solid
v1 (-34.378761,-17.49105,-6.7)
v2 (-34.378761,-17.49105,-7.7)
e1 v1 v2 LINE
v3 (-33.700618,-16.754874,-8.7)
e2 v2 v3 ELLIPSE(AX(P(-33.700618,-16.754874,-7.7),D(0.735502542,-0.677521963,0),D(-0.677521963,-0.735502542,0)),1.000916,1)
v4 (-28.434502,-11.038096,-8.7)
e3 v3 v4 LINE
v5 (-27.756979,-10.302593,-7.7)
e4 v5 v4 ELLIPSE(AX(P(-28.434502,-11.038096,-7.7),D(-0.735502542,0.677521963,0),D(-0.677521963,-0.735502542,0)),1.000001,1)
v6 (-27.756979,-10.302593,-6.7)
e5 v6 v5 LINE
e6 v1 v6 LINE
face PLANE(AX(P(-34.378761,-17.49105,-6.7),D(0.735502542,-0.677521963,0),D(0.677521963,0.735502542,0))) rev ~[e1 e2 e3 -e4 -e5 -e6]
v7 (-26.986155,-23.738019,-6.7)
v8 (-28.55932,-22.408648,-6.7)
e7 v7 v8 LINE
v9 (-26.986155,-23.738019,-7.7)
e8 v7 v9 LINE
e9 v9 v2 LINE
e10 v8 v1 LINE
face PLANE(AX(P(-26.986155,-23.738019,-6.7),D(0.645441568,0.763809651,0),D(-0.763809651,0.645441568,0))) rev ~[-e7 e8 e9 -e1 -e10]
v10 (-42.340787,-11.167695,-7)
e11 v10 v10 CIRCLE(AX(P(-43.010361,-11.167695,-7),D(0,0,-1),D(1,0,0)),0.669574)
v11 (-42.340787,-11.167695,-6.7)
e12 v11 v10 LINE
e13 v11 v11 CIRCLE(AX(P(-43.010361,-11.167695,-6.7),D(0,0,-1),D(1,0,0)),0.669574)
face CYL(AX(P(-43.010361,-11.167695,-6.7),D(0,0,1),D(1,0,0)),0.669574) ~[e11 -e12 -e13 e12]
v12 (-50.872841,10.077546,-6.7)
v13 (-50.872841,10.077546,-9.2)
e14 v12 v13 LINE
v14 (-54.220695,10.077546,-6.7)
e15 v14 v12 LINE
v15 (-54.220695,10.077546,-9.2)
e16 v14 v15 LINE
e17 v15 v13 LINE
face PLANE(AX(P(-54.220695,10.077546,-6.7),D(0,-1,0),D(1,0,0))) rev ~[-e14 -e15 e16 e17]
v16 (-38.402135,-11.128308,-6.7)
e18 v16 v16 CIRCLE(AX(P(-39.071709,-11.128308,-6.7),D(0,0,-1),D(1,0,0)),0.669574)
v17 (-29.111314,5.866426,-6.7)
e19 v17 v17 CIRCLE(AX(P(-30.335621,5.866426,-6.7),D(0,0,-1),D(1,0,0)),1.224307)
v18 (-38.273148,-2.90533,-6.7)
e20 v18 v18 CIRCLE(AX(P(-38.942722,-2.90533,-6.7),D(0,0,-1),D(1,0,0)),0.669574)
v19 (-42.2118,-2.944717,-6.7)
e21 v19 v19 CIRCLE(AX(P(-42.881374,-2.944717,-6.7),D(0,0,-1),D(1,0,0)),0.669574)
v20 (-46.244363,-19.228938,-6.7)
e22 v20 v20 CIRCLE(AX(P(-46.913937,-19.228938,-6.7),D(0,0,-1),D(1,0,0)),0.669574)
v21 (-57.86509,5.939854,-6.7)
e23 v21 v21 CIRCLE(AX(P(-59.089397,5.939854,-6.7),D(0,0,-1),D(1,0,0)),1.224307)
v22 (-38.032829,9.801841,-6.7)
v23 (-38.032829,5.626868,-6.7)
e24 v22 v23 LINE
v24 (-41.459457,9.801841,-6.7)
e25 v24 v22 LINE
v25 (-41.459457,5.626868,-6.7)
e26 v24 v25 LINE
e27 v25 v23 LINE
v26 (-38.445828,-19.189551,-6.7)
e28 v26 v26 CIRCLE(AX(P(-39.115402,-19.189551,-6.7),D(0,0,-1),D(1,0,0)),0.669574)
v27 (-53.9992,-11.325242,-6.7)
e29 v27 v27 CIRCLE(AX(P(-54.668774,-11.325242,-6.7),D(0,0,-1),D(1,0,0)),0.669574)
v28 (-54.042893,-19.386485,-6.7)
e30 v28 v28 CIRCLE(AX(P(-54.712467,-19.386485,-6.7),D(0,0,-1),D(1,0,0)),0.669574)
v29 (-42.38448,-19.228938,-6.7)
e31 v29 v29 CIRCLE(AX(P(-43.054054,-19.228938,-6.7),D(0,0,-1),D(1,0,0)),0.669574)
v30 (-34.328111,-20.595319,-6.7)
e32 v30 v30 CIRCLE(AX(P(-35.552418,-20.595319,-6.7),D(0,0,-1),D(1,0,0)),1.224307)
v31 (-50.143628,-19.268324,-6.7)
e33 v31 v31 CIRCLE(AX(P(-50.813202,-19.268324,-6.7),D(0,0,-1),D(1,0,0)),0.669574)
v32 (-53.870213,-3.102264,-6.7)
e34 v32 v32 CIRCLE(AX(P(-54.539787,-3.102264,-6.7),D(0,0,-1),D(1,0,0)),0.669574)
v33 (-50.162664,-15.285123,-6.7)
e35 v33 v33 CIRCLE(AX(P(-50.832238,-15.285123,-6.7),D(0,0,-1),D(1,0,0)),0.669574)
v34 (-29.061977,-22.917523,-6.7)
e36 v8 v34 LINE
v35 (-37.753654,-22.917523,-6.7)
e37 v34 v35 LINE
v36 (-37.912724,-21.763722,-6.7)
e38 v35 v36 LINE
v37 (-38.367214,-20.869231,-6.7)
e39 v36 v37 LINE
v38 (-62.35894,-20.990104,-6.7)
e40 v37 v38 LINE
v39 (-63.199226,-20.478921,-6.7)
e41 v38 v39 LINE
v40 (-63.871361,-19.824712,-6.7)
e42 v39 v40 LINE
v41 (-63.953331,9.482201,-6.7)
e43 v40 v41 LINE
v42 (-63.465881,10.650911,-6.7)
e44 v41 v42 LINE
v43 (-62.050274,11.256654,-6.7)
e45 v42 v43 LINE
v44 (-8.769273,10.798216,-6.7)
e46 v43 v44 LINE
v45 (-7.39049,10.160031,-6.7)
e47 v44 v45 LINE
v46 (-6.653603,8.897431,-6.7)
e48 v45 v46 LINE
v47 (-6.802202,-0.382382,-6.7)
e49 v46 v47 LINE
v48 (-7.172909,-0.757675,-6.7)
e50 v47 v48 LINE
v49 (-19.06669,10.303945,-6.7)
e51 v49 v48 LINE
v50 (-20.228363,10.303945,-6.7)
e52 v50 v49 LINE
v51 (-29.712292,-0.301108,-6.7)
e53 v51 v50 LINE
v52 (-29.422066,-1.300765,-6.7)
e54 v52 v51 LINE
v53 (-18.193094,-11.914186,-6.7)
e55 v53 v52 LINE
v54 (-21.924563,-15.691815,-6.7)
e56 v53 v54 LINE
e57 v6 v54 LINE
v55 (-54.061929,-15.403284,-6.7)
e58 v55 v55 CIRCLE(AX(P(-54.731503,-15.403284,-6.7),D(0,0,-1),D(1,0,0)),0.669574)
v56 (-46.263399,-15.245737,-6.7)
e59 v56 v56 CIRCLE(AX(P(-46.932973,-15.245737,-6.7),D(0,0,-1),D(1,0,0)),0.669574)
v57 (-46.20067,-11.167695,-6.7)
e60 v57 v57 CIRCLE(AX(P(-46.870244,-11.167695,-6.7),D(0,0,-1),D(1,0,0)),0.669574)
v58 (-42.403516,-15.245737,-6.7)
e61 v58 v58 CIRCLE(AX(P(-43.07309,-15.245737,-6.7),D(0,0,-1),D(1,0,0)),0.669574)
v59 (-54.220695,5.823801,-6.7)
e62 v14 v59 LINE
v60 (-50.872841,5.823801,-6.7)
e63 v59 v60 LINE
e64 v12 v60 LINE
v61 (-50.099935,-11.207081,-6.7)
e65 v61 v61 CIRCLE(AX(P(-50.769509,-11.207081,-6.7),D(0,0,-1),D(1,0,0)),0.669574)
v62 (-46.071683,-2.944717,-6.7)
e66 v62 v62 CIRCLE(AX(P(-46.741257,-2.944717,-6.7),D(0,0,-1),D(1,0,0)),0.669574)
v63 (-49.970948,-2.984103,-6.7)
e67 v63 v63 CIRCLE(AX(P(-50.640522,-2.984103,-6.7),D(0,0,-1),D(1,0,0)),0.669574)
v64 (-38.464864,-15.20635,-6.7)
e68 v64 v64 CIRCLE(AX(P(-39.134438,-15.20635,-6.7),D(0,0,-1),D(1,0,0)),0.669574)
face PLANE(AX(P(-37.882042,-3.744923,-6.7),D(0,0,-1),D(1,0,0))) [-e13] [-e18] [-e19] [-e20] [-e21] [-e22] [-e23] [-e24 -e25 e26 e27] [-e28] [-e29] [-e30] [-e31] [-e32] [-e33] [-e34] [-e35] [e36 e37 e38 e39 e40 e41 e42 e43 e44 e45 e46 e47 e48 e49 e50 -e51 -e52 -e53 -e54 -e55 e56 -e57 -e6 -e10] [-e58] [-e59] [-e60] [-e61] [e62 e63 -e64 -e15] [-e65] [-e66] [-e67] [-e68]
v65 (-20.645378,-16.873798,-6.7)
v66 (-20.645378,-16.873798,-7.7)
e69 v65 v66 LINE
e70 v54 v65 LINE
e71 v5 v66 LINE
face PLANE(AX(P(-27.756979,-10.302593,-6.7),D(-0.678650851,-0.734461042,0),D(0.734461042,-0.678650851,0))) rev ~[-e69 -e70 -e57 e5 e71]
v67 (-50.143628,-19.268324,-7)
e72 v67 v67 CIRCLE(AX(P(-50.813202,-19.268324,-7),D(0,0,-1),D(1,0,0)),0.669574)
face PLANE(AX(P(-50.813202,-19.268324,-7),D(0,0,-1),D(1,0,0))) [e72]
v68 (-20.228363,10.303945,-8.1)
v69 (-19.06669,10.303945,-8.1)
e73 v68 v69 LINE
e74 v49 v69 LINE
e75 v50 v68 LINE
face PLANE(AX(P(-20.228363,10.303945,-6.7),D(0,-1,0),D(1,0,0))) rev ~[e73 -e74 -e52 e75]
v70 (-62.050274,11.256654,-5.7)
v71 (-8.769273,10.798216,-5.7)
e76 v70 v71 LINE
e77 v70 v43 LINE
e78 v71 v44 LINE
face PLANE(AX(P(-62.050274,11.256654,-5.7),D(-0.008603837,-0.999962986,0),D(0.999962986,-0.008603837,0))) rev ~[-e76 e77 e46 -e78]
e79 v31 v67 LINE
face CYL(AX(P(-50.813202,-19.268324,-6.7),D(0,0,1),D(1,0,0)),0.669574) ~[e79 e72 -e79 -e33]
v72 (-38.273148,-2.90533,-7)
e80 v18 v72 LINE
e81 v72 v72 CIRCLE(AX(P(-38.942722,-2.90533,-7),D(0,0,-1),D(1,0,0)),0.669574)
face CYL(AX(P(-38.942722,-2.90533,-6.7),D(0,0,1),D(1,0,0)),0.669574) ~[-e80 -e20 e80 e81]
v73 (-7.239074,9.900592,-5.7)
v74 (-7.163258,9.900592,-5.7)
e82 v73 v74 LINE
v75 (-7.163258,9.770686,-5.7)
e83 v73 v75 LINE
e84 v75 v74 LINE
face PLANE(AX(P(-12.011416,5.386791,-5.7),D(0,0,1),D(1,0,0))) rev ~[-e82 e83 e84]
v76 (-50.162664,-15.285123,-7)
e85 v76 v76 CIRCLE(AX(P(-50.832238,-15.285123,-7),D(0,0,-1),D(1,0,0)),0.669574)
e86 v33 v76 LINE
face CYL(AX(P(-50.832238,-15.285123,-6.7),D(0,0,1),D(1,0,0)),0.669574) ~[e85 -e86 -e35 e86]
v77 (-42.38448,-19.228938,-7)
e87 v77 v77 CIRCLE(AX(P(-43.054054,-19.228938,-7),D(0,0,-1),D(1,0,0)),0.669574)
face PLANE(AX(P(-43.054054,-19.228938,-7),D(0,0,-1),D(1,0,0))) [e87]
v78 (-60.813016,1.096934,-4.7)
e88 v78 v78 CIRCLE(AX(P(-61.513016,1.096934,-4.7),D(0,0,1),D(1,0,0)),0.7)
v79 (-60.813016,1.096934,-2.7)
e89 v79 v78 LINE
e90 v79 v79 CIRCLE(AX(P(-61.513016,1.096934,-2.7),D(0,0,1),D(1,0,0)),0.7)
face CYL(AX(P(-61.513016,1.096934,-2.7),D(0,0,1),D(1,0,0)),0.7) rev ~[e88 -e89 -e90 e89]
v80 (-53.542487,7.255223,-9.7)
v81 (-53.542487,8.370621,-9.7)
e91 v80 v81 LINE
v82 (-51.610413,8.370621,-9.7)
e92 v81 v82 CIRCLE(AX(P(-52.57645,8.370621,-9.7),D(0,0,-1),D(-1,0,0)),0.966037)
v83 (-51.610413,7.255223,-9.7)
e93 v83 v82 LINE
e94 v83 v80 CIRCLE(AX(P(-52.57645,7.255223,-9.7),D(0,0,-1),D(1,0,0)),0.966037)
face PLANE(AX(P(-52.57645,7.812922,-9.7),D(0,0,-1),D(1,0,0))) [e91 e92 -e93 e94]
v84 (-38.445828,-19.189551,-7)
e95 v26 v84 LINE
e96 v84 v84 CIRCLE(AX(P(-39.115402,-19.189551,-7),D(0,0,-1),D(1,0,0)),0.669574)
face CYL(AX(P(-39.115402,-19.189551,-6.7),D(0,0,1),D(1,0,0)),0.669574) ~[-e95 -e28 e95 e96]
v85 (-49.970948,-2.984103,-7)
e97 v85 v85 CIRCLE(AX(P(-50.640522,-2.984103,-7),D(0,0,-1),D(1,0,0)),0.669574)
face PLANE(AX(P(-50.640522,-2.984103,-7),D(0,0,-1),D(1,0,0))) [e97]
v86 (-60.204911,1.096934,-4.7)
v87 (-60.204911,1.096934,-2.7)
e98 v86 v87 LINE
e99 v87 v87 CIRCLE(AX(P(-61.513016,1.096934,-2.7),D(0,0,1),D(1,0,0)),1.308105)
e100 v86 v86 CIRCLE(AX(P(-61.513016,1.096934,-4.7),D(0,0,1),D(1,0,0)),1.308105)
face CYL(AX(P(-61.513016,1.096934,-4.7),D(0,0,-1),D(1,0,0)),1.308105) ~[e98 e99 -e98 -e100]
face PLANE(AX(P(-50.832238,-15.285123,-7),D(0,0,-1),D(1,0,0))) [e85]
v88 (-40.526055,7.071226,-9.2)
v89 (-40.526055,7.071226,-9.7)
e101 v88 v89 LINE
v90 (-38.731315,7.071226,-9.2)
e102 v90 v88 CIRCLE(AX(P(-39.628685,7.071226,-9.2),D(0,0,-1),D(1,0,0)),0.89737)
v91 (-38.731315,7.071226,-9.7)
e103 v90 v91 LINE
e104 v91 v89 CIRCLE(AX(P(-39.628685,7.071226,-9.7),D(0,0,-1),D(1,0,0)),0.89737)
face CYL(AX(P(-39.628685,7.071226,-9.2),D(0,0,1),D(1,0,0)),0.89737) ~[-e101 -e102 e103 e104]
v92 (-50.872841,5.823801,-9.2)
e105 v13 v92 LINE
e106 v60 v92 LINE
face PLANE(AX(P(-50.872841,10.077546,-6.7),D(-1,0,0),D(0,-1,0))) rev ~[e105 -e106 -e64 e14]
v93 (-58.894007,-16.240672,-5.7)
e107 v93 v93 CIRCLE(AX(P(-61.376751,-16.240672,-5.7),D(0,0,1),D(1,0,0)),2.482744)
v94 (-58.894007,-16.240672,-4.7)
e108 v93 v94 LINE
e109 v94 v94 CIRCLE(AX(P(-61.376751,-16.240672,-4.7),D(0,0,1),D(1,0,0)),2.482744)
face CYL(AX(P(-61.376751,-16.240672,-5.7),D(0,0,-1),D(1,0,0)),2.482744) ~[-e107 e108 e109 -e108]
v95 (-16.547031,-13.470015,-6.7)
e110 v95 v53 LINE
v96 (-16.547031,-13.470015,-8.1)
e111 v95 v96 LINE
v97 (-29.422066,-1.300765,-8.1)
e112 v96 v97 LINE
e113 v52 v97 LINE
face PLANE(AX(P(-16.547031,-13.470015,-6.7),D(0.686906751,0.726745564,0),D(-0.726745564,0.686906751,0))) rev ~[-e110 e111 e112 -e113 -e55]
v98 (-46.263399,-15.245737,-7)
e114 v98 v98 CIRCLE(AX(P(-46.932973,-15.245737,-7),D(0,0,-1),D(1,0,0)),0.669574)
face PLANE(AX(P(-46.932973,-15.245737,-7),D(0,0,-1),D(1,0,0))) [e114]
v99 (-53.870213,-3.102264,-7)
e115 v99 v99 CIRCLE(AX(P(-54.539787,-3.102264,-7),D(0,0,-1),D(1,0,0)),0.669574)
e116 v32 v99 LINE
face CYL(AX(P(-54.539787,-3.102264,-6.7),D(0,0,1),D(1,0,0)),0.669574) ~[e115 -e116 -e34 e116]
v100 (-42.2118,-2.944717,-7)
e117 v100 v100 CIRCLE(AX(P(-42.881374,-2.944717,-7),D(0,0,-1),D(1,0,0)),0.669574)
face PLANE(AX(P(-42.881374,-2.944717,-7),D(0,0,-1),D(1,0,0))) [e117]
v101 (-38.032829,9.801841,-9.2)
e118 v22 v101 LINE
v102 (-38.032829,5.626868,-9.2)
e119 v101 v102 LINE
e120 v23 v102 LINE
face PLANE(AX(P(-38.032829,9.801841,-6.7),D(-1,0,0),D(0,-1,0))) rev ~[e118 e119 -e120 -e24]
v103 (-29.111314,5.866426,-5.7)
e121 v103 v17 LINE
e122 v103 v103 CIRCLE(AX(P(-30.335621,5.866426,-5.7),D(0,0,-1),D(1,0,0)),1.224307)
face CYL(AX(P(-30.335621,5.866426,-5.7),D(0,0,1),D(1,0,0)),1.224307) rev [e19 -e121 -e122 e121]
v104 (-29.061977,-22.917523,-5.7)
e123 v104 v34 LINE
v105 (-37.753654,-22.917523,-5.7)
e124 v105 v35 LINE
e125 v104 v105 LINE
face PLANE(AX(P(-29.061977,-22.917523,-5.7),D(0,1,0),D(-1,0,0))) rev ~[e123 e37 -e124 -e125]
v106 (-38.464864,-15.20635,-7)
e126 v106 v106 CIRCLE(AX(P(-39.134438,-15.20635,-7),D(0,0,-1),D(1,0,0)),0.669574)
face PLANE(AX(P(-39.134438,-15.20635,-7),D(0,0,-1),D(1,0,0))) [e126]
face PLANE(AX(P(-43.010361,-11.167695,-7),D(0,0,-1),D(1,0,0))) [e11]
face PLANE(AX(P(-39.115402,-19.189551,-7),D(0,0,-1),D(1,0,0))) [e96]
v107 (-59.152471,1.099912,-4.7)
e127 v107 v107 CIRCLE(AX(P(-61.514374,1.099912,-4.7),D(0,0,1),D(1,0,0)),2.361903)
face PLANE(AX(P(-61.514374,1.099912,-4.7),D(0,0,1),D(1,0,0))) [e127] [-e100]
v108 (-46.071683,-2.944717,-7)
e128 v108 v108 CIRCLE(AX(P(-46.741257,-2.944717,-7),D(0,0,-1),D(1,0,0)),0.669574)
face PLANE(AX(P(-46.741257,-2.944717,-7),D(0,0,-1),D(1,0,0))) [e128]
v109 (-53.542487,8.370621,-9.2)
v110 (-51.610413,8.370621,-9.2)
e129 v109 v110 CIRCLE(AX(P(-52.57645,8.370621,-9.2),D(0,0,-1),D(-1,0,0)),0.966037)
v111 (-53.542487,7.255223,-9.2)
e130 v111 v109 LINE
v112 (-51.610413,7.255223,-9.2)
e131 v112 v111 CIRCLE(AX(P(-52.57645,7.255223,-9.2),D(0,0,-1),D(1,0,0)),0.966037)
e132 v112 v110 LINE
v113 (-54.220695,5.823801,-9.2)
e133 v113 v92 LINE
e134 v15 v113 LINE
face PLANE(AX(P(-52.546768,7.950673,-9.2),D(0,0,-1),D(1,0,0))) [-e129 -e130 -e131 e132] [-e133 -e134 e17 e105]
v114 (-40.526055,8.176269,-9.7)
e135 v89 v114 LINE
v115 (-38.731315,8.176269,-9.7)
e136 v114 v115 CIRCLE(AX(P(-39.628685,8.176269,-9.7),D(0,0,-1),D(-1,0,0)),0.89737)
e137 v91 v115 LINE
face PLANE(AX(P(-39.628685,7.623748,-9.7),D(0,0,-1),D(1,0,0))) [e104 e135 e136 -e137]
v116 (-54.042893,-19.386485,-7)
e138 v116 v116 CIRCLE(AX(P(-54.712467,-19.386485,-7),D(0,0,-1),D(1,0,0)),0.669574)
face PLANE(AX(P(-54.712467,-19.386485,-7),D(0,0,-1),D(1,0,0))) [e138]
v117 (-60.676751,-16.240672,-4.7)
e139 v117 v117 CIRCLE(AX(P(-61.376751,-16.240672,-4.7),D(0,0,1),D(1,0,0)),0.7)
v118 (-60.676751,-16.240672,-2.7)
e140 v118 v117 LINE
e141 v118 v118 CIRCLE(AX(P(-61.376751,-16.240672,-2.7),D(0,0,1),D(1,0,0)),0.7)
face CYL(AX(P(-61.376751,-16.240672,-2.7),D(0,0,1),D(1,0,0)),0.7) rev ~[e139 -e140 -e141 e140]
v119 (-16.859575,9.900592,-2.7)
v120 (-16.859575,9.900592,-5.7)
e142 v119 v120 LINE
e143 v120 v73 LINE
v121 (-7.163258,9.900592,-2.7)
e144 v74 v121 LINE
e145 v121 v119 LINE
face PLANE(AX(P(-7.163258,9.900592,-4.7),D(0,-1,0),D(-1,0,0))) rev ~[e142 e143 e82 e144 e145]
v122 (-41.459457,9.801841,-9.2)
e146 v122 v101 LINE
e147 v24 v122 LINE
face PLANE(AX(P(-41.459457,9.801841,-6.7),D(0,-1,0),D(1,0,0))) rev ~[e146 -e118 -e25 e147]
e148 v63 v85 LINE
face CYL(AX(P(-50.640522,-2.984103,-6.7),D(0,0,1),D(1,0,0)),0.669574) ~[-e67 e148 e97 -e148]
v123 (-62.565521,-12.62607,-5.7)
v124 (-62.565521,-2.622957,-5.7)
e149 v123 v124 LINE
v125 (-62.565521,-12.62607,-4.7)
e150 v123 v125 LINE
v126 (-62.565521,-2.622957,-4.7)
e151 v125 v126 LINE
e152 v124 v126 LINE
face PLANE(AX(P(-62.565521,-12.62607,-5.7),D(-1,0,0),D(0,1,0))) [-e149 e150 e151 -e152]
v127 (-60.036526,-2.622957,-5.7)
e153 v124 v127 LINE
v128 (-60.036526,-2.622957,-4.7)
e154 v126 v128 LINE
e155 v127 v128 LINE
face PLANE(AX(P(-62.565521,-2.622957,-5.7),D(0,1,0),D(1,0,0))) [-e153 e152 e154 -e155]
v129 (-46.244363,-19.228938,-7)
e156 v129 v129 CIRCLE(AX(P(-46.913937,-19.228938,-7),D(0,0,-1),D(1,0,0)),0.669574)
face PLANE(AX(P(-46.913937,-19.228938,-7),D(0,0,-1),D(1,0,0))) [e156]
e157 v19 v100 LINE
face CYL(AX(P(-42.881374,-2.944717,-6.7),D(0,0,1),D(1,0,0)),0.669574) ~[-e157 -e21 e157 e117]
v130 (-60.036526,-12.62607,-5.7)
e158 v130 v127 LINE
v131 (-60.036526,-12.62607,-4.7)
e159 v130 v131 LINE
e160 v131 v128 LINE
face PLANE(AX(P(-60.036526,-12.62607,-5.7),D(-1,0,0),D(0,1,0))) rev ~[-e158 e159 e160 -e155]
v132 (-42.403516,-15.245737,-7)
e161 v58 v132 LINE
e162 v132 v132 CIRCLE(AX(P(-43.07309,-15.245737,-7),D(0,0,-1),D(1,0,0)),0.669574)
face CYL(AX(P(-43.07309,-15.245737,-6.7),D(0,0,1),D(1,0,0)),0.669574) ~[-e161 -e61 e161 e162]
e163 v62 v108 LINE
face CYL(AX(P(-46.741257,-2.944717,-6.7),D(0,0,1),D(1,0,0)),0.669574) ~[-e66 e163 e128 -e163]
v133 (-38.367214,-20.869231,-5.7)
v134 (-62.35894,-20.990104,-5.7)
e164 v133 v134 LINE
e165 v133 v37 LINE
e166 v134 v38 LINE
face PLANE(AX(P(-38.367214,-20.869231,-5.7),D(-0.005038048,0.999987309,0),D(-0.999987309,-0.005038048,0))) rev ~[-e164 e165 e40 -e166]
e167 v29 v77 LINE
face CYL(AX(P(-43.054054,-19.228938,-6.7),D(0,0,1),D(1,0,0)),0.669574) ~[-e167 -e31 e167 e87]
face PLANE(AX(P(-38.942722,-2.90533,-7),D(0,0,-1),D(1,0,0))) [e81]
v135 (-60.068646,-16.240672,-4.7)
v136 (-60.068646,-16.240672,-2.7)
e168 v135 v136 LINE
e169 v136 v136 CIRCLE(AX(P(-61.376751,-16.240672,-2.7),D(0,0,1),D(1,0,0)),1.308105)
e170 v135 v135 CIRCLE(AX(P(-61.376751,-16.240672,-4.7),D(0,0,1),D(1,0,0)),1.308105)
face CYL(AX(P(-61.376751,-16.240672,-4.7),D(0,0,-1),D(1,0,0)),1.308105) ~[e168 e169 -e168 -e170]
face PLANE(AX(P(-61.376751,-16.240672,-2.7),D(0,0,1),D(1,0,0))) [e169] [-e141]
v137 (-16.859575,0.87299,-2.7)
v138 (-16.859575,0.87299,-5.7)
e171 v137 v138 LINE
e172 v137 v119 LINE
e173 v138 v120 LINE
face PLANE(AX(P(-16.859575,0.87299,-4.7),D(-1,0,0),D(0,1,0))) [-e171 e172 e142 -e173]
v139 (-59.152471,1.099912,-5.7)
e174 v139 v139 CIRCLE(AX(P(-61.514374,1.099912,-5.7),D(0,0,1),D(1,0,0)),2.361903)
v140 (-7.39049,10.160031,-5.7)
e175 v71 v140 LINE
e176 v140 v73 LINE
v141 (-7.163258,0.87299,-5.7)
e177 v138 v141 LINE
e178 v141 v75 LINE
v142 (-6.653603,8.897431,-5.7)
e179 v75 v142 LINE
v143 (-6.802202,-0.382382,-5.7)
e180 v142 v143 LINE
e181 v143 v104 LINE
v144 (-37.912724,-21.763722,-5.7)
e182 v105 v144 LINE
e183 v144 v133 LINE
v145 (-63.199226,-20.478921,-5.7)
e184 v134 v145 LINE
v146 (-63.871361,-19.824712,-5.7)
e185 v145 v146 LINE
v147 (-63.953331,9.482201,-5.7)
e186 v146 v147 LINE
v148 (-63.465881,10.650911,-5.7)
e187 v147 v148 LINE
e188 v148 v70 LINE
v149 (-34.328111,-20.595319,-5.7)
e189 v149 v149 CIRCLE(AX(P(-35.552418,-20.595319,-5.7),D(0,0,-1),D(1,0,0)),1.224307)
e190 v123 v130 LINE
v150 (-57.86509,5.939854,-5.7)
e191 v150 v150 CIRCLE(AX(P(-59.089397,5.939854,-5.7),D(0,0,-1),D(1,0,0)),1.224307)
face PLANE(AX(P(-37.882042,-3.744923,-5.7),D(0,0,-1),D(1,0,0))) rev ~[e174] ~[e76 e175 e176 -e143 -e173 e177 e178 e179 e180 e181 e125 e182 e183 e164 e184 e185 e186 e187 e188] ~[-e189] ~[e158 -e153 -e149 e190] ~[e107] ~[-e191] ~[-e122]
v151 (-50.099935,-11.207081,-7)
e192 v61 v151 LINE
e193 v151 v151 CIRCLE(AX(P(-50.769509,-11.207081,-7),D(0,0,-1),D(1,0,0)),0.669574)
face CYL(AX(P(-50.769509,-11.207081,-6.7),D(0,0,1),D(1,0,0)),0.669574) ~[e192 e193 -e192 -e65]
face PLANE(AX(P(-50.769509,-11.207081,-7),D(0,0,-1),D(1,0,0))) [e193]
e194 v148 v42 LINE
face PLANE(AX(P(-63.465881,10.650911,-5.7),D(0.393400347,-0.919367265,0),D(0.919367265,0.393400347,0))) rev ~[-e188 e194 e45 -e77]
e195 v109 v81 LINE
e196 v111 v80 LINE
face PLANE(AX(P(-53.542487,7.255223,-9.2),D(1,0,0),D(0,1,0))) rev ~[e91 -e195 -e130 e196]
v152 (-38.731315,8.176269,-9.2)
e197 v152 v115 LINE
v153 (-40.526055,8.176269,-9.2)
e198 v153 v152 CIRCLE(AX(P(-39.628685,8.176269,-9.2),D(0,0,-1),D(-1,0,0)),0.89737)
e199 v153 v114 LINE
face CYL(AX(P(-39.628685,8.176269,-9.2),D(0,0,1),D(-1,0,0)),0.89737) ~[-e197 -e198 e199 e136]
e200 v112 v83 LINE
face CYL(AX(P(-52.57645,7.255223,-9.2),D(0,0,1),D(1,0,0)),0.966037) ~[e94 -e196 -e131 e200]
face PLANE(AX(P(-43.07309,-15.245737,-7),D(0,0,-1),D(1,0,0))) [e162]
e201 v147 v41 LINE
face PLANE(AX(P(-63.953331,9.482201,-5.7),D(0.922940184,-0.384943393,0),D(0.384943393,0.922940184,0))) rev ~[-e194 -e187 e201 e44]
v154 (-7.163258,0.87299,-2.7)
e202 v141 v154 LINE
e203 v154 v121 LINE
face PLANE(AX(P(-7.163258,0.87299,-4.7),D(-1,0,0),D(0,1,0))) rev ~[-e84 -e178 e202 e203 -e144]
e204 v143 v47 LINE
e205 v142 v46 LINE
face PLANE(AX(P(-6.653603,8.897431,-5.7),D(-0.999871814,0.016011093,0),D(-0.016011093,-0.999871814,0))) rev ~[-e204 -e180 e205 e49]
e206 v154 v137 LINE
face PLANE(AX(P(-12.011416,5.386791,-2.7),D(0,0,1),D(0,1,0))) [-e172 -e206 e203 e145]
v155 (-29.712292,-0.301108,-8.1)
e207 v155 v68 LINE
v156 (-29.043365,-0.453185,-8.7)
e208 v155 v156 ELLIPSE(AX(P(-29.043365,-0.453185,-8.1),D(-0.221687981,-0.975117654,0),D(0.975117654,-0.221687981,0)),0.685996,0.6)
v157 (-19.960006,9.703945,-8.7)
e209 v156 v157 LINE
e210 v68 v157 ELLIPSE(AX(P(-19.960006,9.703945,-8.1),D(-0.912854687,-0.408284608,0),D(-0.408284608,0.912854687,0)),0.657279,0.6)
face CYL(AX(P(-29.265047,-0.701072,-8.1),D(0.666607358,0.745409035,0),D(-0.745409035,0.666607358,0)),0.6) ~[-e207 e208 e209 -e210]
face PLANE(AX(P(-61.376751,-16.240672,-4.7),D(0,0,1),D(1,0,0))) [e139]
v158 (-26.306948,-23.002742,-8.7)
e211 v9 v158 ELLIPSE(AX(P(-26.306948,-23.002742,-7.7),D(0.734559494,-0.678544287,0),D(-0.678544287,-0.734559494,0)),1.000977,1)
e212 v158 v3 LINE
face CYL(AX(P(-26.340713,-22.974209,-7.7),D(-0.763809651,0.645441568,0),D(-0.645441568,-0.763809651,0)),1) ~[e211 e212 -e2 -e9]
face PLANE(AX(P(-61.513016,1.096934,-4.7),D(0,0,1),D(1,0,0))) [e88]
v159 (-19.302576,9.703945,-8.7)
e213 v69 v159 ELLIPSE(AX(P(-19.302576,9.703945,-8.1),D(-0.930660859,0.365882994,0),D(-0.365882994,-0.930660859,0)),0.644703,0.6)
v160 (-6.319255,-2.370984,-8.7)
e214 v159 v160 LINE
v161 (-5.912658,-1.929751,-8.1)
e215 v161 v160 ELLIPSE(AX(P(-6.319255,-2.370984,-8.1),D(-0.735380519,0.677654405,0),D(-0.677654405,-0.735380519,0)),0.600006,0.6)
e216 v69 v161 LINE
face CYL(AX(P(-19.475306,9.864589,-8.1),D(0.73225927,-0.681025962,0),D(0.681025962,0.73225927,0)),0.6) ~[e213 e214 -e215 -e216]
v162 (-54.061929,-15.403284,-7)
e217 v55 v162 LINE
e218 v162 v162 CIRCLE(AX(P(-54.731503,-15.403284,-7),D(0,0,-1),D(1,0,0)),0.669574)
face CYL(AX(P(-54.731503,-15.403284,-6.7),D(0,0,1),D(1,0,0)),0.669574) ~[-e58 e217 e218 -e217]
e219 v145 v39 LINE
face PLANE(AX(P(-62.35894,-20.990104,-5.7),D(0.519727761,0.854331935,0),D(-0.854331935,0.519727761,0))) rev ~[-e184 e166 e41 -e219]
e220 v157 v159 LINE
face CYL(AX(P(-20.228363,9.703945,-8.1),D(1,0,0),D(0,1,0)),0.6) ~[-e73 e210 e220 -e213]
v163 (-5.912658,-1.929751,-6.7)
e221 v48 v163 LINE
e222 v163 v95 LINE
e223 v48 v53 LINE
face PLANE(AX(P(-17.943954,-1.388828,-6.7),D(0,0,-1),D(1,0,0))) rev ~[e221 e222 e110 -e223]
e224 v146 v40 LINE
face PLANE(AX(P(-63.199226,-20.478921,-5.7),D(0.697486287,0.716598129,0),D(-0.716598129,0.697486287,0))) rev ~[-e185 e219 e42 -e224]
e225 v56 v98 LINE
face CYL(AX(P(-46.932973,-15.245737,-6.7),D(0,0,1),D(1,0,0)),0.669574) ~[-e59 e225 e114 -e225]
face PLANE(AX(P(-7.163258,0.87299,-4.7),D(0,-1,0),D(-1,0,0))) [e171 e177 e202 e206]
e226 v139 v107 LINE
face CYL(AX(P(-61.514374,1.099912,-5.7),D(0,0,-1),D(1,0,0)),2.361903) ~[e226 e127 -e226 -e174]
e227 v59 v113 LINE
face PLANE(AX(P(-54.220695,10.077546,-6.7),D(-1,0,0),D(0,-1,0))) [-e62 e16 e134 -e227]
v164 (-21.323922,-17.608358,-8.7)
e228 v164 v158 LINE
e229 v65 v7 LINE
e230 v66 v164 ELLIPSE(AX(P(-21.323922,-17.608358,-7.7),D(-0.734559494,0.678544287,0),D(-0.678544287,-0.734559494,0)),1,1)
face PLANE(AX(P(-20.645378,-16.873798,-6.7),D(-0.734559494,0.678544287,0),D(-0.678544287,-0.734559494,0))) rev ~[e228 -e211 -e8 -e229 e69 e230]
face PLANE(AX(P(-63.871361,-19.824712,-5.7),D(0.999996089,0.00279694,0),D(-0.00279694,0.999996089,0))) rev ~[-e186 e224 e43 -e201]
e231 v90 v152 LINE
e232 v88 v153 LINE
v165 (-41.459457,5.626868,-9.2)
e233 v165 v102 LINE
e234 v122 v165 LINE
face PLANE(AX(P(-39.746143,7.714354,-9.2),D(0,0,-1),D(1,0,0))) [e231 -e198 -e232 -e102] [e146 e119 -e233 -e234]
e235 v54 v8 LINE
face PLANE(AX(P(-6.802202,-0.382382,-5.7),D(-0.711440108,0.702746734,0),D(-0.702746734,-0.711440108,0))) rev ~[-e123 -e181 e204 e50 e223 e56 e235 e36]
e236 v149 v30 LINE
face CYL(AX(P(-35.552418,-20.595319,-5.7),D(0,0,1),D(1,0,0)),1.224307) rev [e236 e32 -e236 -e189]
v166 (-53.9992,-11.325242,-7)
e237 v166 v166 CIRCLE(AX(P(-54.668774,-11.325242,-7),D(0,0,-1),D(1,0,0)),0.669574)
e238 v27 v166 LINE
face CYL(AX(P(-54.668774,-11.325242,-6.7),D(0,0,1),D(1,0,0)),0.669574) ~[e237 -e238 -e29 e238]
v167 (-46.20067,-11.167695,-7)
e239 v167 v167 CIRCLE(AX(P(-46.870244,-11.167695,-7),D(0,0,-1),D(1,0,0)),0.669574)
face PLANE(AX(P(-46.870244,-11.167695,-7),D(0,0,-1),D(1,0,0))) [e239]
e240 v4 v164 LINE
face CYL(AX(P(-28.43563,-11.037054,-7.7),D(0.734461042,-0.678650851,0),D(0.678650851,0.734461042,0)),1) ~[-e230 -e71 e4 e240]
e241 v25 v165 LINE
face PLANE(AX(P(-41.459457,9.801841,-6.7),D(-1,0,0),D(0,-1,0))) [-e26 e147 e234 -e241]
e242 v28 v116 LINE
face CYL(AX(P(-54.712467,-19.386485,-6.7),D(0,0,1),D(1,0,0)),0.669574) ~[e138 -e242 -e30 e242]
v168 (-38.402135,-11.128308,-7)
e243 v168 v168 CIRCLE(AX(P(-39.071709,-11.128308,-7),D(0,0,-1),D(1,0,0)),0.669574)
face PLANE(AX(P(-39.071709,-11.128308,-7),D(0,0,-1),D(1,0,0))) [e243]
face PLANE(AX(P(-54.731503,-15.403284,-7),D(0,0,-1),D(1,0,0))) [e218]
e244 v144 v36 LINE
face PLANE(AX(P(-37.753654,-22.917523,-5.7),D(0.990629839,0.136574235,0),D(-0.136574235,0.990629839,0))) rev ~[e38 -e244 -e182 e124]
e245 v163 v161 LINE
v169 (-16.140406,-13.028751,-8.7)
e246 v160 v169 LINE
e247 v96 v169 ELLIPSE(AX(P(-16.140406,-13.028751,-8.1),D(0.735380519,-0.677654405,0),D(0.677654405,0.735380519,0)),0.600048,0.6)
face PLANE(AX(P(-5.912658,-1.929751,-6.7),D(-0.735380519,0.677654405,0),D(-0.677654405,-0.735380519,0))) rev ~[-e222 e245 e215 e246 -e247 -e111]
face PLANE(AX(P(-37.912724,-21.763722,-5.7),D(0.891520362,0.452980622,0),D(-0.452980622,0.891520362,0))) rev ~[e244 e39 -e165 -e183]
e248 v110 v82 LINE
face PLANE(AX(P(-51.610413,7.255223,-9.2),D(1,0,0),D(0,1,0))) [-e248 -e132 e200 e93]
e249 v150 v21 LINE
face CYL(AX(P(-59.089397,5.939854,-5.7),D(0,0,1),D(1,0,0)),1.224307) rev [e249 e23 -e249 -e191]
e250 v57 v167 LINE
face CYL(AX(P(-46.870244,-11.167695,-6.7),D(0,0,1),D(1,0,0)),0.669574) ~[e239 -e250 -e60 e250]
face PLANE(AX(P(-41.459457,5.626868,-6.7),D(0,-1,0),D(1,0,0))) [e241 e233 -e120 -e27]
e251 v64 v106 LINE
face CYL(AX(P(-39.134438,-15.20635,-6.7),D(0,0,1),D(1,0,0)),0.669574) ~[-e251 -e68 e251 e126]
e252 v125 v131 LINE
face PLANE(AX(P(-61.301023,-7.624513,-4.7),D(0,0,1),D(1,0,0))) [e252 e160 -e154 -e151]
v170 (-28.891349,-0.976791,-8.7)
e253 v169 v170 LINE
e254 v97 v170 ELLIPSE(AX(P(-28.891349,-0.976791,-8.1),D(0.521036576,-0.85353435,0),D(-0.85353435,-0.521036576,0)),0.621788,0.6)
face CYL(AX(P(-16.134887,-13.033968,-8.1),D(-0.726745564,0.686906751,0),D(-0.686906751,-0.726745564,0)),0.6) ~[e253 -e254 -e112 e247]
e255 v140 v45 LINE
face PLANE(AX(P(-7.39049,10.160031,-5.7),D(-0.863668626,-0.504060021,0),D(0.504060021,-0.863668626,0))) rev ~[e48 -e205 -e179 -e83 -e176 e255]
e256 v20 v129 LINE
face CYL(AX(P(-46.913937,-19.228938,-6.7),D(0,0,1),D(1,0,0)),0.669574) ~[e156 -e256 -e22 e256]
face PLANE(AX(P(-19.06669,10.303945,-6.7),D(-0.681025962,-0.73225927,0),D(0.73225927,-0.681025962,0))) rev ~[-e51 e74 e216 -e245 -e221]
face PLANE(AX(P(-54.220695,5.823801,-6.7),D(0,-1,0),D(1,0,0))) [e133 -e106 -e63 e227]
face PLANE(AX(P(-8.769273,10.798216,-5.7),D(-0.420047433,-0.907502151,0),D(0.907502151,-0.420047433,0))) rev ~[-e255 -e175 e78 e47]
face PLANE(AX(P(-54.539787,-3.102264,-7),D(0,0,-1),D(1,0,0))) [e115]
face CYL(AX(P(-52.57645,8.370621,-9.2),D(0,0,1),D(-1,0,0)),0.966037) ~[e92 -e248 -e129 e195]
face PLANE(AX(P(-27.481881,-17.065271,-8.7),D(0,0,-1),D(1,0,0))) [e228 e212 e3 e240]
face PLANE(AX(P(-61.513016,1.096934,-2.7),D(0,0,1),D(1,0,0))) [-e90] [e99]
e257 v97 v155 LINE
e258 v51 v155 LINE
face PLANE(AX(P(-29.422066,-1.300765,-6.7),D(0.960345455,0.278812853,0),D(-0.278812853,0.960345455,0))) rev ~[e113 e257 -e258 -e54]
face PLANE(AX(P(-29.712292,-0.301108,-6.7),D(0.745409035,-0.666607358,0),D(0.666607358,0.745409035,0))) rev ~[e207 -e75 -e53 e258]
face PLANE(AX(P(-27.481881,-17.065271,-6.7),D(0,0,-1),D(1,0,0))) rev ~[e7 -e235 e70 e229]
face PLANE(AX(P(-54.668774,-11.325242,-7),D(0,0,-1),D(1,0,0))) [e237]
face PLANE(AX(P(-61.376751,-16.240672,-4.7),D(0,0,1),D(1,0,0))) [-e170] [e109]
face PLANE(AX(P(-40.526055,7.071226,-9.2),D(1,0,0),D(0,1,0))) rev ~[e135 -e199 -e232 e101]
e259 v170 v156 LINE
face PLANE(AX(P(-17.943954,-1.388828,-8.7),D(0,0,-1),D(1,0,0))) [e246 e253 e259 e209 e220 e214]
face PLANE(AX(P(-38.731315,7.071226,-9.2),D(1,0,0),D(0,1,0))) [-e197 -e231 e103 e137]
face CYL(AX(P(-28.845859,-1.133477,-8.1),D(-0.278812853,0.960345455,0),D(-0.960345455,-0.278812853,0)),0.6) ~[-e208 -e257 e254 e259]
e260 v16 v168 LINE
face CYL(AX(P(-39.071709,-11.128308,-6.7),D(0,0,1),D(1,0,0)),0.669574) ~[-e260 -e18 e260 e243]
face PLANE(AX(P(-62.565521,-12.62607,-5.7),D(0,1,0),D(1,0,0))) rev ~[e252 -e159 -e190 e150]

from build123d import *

# Parameters (mm, degrees)
SKETCH011_R             = 1.224307
PAD008_DEPTH            = 1
PAD009_DEPTH            = 2
SKETCH013_R             = 0.669574
PAD010_DEPTH            = 0.3
SKETCH014_W             = 3.347854
SKETCH014_H             = 4.253745
SKETCH014_W_2           = 3.426628
SKETCH014_H_2           = 4.174973
PAD011_DEPTH            = 2.5
PAD012_DEPTH            = 0.5
SKETCH016_R             = 2.3619034919
SKETCH016_R_2           = 2.482744
SKETCH016_W             = 2.528995
SKETCH016_H             = 10.003113
SKETCH016_W_2           = 9.696317
SKETCH016_H_2           = 9.027602
PAD013_DEPTH            = 1
PAD013_FACE69_W         = 9.027602
PAD013_FACE69_H         = 9.696317
PAD014_DEPTH            = 2
SKETCH017_R             = 1.308105
PAD015_DEPTH            = 2
SKETCH018_R             = 0.7
POCKET002_DEPTH         = 2
FILLET_R                = 0.6
FILLET001_R             = 1
BODY002_PLACEMENT_ANGLE = 180


with BuildPart() as part:
    # Sketch011 → Pad008 (new body)
    with BuildSketch(Plane.XY):
        Polygon((-64.871361, 16.524712), (-64.953331, -12.782201), (-64.465881, -13.950911), (-63.050274, -14.556654), (-9.769273, -14.098216), (-8.39049, -13.460031), (-7.653603, -12.197431), (-7.802202, -2.917618), (-30.061977, 19.617523), (-38.753654, 19.617523), (-38.912724, 18.463722), (-39.367214, 17.569231), (-63.35894, 17.690104), (-64.199226, 17.178921), align=None)
        with Locations((-60.089397, -9.239854)):
            Circle(SKETCH011_R, mode=Mode.SUBTRACT)
        with Locations((-31.335621, -9.166426)):
            Circle(SKETCH011_R, mode=Mode.SUBTRACT)
        with Locations((-36.552418, 17.295319)):
            Circle(SKETCH011_R, mode=Mode.SUBTRACT)
    extrude(amount=PAD008_DEPTH)

    # Sketch012 (on Face19 of Pad008) → Pad009 (join)
    with BuildSketch(Plane.XY.offset(1)):
        Polygon((-27.986155, 20.438019), (-35.378761, 14.19105), (-28.756979, 7.002593), (-21.645378, 13.573798), align=None)
        Polygon((-17.547031, 10.170015), (-30.422066, -1.999235), (-30.712292, -2.998892), (-21.228363, -13.603945), (-20.06669, -13.603945), (-6.912658, -1.370249), align=None)
    extrude(amount=PAD009_DEPTH)

    # Sketch013 (on Face5 of Pad009) → Pad010 (join)
    with BuildSketch(Plane.XY.offset(1)):
        with Locations((-55.712467, 16.086485)):
            Circle(SKETCH013_R)
        with Locations((-51.813202, 15.968324)):
            Circle(SKETCH013_R)
        with Locations((-47.913937, 15.928938)):
            Circle(SKETCH013_R)
        with Locations((-44.054054, 15.928938)):
            Circle(SKETCH013_R)
        with Locations((-40.115402, 15.889551)):
            Circle(SKETCH013_R)
        with Locations((-55.731503, 12.103284)):
            Circle(SKETCH013_R)
        with Locations((-51.832238, 11.985123)):
            Circle(SKETCH013_R)
        with Locations((-47.932973, 11.945737)):
            Circle(SKETCH013_R)
        with Locations((-44.07309, 11.945737)):
            Circle(SKETCH013_R)
        with Locations((-40.134438, 11.90635)):
            Circle(SKETCH013_R)
        with Locations((-55.668774, 8.025242)):
            Circle(SKETCH013_R)
        with Locations((-51.769509, 7.907081)):
            Circle(SKETCH013_R)
        with Locations((-47.870244, 7.867695)):
            Circle(SKETCH013_R)
        with Locations((-44.010361, 7.867695)):
            Circle(SKETCH013_R)
        with Locations((-40.071709, 7.828308)):
            Circle(SKETCH013_R)
        with Locations((-55.539787, -0.197736)):
            Circle(SKETCH013_R)
        with Locations((-51.640522, -0.315897)):
            Circle(SKETCH013_R)
        with Locations((-47.741257, -0.355283)):
            Circle(SKETCH013_R)
        with Locations((-43.881374, -0.355283)):
            Circle(SKETCH013_R)
        with Locations((-39.942722, -0.39467)):
            Circle(SKETCH013_R)
    extrude(amount=PAD010_DEPTH)

    # Sketch014 (on Face5 of Pad010) → Pad011 (join)
    with BuildSketch(Plane.XY.offset(1)):
        with Locations((-53.546768, -11.2506735)):
            Rectangle(SKETCH014_W, SKETCH014_H)
        with Locations((-40.746143, -11.0143545)):
            Rectangle(SKETCH014_W_2, SKETCH014_H_2)
    extrude(amount=PAD011_DEPTH)

    # Sketch015 (on Face66 of Pad011) → Pad012 (join)
    with BuildSketch(Plane.XY.offset(3.5)):
        with BuildLine():
            ThreePointArc((-52.61041275, -10.555223), (-53.57645, -9.58918575), (-54.54248725, -10.555223))
            Line((-54.54248725, -10.555223), (-54.54248725, -11.670621))
            ThreePointArc((-54.54248725, -11.670621), (-53.57645, -12.63665825), (-52.61041275, -11.670621))
            Line((-52.61041275, -10.555223), (-52.61041275, -11.670621))
        make_face()
        with BuildLine():
            ThreePointArc((-39.731315, -10.371226), (-40.628685, -9.473856), (-41.526055, -10.371226))
            Line((-41.526055, -10.371226), (-41.526055, -11.476269))
            ThreePointArc((-41.526055, -11.476269), (-40.628685, -12.373639), (-39.731315, -11.476269))
            Line((-39.731315, -10.371226), (-39.731315, -11.476269))
        make_face()
    extrude(amount=PAD012_DEPTH)

    # Sketch016 (on Face4 of Pad012) → Pad013 (join)
    with BuildSketch(Plane(origin=(0, 0, 0), x_dir=(1, 0, 0), z_dir=(0, 0, -1))):
        with Locations((-62.514374, 4.399912)):
            Circle(SKETCH016_R)
        with Locations((-62.376751, -12.940672)):
            Circle(SKETCH016_R_2)
        with Locations((-62.3010235, -4.3245135)):
            Rectangle(SKETCH016_W, SKETCH016_H)
        with Locations((-13.0114165, 8.686791)):
            Rectangle(SKETCH016_W_2, SKETCH016_H_2)
    extrude(amount=PAD013_DEPTH)

    # Pad013 Face69 → Pad014 (add)
    with BuildSketch(Plane(origin=(-13.0114165, -8.686791, -1), x_dir=(0, -1, 0), z_dir=(0, 0, -1))):
        Rectangle(PAD013_FACE69_W, PAD013_FACE69_H)
    extrude(amount=PAD014_DEPTH)

    # Sketch017 (on Face73 of Pad014) → Pad015 (join)
    with BuildSketch(Plane(origin=(0, 0, -1), x_dir=(1, 0, 0), z_dir=(0, 0, -1))):
        with Locations((-62.513016, 4.396934)):
            Circle(SKETCH017_R)
        with Locations((-62.376751, -12.940672)):
            Circle(SKETCH017_R)
    extrude(amount=PAD015_DEPTH)

    # Sketch018 (on Face114 of Pad015) → Pocket002 (cut)
    with BuildSketch(Plane(origin=(0, 0, -3), x_dir=(1, 0, 0), z_dir=(0, 0, -1))):
        with Locations((-62.513016, 4.396934)):
            Circle(SKETCH018_R)
        with Locations((-62.376751, -12.940672)):
            Circle(SKETCH018_R)
    extrude(amount=-POCKET002_DEPTH, mode=Mode.SUBTRACT)

    # Fillet
    fillet_edges = [part.edges().sort_by_distance(p)[0] for p in [
        (-13.489674, -7.487097, 3),
        (-23.984549, 4.08539, 3),
        (-25.970328, -8.301419, 3),
        (-30.567179, -2.499064, 3),
        (-20.647527, -13.603945, 3),
    ]]
    fillet(fillet_edges, radius=FILLET_R)

    # Fillet001
    fillet001_edges = [part.edges().sort_by_distance(p)[0] for p in [
        (-31.682458, 17.314535, 3),
        (-25.201179, 10.288196, 3),
    ]]
    fillet(fillet001_edges, radius=FILLET001_R)


with BuildPart() as part_1:
    # Body002 placement: moved
    add(part.part.moved(Location((1, -3.3, -5.7))).rotate(Axis((1, -3.3, -5.7), (1, 0, 0)), BODY002_PLACEMENT_ANGLE))


solid = part_1.part
